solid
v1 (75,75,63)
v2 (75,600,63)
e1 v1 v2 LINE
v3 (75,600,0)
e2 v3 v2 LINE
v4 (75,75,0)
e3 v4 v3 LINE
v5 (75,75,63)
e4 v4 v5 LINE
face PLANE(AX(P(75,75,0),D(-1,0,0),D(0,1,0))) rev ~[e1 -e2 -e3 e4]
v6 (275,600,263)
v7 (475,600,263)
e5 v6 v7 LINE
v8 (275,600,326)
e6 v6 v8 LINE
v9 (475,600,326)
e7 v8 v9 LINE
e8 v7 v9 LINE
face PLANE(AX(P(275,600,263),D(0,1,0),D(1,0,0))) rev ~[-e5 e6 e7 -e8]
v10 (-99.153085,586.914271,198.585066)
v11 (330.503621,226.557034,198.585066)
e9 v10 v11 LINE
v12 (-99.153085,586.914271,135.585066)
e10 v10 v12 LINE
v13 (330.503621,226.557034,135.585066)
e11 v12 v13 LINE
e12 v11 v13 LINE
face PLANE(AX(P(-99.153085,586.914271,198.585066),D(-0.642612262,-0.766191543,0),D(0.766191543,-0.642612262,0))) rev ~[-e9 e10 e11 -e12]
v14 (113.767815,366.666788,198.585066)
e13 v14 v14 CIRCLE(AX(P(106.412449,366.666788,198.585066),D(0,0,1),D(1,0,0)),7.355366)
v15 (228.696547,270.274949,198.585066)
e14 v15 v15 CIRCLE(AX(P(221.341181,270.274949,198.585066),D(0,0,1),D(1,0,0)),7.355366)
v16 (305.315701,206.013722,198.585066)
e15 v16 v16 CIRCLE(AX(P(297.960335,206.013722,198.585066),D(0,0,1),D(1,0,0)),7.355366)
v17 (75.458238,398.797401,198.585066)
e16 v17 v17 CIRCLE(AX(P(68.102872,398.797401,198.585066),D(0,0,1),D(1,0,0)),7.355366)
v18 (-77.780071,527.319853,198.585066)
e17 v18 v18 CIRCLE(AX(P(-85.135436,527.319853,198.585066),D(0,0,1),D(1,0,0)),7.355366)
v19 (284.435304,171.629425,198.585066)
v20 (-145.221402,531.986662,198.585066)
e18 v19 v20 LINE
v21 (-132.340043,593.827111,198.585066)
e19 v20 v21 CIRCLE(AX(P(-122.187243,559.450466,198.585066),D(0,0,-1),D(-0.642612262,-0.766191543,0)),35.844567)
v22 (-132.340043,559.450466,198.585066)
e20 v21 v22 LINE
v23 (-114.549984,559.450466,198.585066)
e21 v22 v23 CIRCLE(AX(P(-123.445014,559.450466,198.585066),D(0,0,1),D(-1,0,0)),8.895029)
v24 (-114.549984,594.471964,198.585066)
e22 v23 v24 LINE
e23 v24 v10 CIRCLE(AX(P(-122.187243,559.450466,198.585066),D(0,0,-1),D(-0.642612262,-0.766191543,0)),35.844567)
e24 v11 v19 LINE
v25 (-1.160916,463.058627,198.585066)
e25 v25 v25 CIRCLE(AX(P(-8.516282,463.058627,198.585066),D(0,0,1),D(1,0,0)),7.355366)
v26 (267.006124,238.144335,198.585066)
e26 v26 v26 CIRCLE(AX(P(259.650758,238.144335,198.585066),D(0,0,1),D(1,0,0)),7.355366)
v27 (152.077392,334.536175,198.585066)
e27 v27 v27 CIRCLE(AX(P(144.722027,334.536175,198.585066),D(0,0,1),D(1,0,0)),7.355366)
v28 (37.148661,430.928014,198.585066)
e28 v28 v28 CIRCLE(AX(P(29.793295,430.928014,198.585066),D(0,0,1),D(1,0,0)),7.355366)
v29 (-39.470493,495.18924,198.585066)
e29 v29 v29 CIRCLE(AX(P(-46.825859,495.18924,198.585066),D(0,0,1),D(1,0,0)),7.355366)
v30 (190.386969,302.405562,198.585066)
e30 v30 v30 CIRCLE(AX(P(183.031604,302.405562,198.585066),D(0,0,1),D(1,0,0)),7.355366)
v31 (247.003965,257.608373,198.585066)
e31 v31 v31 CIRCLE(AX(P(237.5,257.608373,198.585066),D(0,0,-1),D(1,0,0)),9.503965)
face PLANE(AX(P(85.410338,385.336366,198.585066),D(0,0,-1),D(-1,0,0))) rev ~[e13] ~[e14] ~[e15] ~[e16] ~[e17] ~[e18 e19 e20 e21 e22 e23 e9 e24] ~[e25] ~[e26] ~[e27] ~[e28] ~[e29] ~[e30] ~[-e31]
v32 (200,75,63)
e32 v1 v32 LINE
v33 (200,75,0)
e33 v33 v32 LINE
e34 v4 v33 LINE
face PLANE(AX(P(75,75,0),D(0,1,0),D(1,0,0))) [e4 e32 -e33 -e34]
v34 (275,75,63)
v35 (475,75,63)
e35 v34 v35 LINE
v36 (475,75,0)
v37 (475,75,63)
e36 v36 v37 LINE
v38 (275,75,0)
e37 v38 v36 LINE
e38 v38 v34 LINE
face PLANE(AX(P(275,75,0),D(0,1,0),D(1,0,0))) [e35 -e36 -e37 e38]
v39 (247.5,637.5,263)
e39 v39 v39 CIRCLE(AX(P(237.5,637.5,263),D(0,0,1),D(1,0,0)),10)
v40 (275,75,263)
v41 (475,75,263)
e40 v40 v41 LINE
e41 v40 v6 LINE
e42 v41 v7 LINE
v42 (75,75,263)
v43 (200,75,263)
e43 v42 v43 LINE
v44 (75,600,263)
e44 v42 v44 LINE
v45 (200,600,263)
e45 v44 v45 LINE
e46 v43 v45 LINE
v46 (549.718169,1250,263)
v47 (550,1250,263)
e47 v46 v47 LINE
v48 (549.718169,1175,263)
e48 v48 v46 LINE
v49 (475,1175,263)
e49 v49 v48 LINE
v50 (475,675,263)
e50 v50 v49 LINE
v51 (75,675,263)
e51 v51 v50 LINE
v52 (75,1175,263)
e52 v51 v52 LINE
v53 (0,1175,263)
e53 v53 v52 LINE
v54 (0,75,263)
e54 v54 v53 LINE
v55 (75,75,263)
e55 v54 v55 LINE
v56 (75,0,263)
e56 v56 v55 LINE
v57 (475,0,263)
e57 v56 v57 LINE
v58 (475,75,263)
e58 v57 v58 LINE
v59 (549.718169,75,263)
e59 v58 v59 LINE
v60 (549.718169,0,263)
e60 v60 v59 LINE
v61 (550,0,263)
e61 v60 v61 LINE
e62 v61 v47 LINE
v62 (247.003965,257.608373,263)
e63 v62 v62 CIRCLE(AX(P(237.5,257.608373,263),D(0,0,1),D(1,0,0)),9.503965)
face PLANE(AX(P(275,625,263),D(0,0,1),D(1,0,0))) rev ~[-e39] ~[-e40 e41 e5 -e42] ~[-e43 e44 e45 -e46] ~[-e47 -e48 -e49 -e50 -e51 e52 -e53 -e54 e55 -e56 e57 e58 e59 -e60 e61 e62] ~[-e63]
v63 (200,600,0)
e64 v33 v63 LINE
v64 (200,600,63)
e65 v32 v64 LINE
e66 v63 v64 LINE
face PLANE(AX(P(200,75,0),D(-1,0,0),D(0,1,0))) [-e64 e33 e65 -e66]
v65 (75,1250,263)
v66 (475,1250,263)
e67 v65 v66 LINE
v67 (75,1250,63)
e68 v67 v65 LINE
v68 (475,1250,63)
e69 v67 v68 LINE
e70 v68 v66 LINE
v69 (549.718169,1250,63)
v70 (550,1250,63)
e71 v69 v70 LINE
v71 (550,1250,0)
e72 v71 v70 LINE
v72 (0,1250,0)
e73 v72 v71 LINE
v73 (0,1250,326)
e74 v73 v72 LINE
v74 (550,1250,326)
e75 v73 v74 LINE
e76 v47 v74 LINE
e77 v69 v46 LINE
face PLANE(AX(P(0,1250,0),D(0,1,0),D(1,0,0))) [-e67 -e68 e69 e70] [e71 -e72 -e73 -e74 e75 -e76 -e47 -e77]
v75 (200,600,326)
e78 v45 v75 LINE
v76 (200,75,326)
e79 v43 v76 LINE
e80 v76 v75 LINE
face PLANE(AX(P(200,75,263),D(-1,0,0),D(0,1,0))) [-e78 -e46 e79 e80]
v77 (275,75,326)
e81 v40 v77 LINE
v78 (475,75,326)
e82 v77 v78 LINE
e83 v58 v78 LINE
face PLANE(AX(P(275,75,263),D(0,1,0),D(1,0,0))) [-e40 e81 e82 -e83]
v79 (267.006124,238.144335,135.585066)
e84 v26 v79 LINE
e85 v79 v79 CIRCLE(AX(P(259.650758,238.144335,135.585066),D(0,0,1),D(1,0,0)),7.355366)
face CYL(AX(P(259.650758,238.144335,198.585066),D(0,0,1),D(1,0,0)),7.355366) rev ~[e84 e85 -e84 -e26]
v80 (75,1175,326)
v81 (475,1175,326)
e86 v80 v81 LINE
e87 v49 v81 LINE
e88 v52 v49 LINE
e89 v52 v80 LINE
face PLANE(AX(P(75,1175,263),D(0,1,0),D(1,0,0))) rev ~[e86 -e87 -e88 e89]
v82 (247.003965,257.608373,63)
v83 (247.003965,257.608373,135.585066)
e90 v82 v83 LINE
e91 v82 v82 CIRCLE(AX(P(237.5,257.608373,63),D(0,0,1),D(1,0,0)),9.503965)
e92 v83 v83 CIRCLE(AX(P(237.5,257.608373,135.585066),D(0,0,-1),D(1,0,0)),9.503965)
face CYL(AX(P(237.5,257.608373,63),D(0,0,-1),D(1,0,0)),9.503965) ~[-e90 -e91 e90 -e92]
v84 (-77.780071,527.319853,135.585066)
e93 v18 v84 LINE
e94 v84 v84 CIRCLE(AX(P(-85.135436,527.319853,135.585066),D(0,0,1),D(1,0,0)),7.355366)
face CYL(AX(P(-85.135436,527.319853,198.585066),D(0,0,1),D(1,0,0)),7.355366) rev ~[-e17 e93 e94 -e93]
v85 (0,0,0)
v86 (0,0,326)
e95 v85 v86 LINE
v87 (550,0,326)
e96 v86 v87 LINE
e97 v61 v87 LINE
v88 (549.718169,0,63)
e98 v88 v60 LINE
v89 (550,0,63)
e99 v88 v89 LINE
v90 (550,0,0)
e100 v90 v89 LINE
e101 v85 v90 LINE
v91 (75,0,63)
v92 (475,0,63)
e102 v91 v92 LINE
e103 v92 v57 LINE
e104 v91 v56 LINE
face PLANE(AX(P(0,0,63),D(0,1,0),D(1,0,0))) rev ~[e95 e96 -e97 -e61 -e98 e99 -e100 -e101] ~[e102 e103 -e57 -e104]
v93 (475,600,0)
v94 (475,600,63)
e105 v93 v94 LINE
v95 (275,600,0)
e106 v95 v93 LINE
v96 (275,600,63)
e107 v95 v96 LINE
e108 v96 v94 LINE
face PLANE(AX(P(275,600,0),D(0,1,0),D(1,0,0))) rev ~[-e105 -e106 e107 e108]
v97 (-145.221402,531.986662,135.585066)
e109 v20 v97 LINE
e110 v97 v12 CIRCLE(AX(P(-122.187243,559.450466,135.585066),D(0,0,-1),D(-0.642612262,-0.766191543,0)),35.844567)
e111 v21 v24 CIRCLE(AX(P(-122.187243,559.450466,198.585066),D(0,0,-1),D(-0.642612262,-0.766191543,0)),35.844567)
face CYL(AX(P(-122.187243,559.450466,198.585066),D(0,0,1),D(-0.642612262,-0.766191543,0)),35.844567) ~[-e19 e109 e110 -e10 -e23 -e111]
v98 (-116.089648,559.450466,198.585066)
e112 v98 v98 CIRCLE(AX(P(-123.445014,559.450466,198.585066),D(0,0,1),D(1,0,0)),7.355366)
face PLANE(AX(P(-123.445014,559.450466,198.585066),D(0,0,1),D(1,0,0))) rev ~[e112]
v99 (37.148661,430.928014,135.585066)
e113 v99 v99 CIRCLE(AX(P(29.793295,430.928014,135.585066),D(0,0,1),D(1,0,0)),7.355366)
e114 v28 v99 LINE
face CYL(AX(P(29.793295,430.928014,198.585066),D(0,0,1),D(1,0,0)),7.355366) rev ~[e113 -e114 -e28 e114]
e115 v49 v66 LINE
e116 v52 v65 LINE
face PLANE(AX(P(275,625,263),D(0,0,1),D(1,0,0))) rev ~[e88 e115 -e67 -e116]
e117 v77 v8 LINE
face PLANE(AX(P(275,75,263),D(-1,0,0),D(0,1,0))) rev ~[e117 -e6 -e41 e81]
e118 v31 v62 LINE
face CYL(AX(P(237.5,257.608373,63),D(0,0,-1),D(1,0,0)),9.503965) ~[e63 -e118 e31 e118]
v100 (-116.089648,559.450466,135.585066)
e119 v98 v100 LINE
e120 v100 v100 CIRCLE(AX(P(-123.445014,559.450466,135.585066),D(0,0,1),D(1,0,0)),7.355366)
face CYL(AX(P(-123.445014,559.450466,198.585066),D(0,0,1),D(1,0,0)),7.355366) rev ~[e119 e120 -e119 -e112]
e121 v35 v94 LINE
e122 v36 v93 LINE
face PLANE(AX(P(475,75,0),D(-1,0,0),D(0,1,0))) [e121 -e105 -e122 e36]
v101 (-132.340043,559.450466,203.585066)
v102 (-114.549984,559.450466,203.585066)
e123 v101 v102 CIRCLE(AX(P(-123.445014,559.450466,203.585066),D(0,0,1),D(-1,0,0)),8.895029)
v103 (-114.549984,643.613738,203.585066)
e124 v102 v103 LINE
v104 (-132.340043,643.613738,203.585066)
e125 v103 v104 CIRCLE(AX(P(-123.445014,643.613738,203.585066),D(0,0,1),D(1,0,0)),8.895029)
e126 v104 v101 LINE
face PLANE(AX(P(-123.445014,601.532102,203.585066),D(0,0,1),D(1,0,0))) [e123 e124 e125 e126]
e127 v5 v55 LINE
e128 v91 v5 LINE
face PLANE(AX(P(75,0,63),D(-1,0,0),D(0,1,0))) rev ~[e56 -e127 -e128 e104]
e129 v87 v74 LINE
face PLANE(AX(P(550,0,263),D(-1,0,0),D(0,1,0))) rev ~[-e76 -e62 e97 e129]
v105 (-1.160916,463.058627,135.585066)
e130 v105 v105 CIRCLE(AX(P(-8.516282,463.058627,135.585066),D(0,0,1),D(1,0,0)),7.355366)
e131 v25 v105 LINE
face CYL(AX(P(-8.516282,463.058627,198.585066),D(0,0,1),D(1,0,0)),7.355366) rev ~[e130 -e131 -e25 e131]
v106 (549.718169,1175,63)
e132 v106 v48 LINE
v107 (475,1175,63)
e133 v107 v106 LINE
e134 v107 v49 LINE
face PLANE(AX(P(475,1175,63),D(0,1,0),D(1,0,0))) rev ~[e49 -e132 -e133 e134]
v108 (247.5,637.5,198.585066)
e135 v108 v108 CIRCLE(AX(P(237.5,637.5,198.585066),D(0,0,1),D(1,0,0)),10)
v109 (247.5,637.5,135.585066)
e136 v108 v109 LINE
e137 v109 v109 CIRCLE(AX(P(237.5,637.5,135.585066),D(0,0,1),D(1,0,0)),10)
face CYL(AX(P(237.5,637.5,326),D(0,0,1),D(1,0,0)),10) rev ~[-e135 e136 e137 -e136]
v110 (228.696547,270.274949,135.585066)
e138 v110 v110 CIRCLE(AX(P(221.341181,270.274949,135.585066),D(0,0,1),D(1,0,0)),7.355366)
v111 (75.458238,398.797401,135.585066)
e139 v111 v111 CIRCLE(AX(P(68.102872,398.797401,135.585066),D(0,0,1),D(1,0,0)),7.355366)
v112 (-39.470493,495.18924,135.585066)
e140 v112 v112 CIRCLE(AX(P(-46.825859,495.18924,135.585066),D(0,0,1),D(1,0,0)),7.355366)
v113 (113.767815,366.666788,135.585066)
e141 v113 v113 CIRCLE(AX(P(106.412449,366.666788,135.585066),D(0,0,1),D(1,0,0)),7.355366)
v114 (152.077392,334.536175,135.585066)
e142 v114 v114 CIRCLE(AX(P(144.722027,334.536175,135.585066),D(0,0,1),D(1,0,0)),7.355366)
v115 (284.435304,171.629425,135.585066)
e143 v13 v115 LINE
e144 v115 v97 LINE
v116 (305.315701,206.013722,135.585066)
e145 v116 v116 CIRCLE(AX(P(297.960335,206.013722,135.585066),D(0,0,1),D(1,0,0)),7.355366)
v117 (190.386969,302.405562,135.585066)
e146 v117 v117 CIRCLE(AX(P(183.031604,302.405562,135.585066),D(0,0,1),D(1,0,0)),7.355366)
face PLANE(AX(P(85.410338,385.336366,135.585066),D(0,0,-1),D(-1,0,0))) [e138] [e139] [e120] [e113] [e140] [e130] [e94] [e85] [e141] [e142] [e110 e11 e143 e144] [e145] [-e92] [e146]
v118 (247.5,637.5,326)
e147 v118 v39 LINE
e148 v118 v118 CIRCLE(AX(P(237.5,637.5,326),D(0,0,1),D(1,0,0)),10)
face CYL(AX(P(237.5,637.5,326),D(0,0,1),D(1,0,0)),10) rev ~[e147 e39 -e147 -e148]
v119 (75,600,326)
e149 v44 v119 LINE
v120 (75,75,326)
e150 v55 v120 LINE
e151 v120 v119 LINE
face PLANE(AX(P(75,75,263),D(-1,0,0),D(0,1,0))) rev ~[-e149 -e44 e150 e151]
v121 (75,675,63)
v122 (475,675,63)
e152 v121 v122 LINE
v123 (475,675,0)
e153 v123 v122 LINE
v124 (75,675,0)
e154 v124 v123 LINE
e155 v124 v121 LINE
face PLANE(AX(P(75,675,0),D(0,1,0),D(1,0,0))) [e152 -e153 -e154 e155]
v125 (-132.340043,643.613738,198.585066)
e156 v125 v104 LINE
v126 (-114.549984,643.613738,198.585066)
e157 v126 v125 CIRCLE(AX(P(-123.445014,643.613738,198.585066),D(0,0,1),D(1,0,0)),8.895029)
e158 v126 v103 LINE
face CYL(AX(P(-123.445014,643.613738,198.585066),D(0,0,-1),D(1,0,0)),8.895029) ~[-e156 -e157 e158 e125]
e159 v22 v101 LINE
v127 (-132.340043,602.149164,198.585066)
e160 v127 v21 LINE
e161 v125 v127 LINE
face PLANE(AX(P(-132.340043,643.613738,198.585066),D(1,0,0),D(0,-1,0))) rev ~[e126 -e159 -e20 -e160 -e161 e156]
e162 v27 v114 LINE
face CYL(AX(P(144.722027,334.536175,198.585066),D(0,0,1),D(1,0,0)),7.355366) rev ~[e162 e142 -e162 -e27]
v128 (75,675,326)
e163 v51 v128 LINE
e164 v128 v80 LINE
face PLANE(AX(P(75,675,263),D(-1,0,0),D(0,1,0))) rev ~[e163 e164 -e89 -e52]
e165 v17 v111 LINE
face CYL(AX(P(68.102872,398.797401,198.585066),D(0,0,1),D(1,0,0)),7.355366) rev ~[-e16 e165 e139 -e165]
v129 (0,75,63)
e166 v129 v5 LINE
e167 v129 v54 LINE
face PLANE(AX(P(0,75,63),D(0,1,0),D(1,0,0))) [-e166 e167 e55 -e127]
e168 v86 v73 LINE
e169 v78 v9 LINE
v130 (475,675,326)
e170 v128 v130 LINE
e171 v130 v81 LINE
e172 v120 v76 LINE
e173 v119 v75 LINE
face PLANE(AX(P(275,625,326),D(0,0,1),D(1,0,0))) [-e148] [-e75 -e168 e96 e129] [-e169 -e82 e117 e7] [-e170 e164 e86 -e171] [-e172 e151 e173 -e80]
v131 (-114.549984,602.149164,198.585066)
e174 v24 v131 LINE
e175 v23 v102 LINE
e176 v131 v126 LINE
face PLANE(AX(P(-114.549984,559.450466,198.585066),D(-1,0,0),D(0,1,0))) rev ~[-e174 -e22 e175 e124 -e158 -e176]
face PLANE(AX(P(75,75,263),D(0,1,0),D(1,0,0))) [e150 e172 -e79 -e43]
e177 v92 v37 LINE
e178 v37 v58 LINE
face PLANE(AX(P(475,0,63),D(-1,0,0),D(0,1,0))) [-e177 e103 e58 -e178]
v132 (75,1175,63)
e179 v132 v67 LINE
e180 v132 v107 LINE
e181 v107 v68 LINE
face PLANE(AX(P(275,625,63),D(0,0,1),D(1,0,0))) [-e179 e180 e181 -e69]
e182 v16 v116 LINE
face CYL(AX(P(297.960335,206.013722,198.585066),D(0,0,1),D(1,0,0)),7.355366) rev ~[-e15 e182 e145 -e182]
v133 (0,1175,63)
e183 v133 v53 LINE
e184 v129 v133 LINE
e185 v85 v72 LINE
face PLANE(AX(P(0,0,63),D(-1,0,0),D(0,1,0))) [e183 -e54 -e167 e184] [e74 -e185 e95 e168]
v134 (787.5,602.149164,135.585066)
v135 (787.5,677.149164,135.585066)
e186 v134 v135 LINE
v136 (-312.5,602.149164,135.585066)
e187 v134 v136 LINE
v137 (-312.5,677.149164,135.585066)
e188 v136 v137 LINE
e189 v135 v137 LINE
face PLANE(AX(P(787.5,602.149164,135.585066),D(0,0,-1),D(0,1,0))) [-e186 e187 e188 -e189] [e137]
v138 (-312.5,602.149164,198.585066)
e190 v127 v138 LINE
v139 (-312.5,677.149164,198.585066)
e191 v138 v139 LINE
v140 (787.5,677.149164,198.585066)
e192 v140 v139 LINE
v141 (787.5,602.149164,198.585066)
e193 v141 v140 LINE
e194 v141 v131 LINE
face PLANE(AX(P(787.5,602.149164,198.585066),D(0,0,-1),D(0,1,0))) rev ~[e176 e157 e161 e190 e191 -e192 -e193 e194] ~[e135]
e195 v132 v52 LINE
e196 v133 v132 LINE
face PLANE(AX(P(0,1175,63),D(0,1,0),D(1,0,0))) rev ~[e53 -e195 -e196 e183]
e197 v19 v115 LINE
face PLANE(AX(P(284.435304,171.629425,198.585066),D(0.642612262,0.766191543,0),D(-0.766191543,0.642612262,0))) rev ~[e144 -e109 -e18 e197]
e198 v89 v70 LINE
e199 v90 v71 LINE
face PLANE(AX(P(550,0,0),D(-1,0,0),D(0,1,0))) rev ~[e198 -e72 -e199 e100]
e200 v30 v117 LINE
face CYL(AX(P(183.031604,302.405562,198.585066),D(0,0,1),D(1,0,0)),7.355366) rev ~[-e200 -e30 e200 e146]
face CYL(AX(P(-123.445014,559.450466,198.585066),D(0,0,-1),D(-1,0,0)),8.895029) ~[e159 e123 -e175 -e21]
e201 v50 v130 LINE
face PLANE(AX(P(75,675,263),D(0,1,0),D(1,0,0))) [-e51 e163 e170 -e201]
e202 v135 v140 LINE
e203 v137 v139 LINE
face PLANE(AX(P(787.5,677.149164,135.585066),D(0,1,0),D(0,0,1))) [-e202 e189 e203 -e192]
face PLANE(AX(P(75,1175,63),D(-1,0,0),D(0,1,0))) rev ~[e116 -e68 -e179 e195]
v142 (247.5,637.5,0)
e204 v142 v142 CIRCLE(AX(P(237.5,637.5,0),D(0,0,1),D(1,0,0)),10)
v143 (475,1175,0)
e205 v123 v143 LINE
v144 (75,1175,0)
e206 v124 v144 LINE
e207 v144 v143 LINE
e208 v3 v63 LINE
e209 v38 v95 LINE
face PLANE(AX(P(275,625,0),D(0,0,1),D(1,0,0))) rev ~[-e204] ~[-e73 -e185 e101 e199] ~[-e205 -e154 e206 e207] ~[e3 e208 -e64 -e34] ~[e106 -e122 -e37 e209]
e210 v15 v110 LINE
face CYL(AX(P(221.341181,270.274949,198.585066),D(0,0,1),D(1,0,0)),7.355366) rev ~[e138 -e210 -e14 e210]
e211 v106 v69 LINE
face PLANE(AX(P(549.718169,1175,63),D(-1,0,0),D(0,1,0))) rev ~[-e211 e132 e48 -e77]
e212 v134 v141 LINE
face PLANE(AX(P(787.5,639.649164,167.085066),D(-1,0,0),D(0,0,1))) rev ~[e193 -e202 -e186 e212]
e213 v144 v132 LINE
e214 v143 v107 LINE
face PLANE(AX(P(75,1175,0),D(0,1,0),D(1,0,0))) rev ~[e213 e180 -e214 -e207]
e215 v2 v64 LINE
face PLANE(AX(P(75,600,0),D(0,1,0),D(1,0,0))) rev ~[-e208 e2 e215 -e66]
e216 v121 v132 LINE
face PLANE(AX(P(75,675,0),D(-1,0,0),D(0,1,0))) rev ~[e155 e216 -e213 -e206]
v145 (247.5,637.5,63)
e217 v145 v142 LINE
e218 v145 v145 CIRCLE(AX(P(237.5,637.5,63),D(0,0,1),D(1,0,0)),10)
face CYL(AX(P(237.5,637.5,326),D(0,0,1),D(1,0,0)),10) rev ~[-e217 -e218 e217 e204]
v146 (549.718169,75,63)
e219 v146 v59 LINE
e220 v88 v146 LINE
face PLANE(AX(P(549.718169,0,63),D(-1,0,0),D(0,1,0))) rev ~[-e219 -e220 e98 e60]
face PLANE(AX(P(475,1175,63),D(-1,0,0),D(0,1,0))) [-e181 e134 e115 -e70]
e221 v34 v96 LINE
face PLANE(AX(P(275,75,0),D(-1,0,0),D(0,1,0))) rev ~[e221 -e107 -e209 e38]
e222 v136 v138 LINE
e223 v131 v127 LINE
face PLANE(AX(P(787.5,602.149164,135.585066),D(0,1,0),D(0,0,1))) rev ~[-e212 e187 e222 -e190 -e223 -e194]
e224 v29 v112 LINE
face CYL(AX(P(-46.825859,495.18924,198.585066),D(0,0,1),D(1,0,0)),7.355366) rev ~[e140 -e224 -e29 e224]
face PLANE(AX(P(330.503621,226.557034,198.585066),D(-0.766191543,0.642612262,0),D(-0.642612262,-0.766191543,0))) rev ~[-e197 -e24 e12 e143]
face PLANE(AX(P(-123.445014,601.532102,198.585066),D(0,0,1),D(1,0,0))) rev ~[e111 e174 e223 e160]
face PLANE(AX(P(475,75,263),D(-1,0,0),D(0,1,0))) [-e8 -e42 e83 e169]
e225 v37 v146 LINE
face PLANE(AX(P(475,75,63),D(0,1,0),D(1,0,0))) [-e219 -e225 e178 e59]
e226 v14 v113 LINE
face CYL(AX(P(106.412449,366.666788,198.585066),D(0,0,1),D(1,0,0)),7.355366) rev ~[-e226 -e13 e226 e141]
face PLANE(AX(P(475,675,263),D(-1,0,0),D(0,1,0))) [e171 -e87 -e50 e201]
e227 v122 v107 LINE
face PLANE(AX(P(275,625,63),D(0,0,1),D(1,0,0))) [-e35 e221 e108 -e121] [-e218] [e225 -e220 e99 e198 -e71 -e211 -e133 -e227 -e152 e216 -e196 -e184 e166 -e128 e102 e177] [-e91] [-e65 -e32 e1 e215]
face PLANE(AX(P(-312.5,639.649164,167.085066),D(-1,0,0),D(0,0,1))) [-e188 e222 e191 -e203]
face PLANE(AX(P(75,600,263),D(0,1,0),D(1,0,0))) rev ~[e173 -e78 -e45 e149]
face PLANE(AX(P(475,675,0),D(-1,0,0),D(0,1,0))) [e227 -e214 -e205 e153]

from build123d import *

# Parameters (mm, degrees)
ESQUISSE1_W                = 550
ESQUISSE1_H                = 1250
ESQUISSE1_W_2              = 125
ESQUISSE1_H_2              = 525
ESQUISSE1_W_3              = 200
ESQUISSE1_W_4              = 400
ESQUISSE1_H_3              = 500
BOSS_EXTRU_1_DEPTH         = 63
R_P_TITION_LIN_AIRE1_COUNT = 2
R_P_TITION_LIN_AIRE1_PITCH = 263
ESQUISSE2_W                = 75
ESQUISSE2_H                = 75
ESQUISSE2_W_2              = 74.718169062
BOSS_EXTRU_2_DEPTH         = 200
BOSS_EXTRU_4_DEPTH         = 550
BOSS_EXTRU_4_DEPTH_BACK    = 550
ESQUISSE7_W                = 63
ESQUISSE7_H                = 75
ESQUISSE3_R                = 10
ENL_V_MAT_EXTRU_2_DEPTH    = 1513.921759378
BOSS_EXTRU_5_DEPTH         = 63
BOSS_EXTRU_6_DEPTH         = 5
ESQUISSE12_R               = 7.355365699
ENL_V_MAT_EXTRU_3_DEPTH    = 100
R_P_TITION_LIN_AIRE2_COUNT = 12
R_P_TITION_LIN_AIRE2_PITCH = 50
BOSS_EXTRU_7_START         = -263
ESQUISSE13_R               = 9.503964929
BOSS_EXTRU_7_DEPTH         = 200


with BuildPart() as part:
    # Esquisse1 → Boss.-Extru.1 (new body)
    with BuildSketch(Plane.XY):
        with Locations((275, 625)):
            Rectangle(ESQUISSE1_W, ESQUISSE1_H)
        with Locations((137.5, 337.5)):
            Rectangle(ESQUISSE1_W_2, ESQUISSE1_H_2, mode=Mode.SUBTRACT)
        with Locations((375, 337.5)):
            Rectangle(ESQUISSE1_W_3, ESQUISSE1_H_2, mode=Mode.SUBTRACT)
        with Locations((275, 925)):
            Rectangle(ESQUISSE1_W_4, ESQUISSE1_H_3, mode=Mode.SUBTRACT)
    extrude(amount=BOSS_EXTRU_1_DEPTH)


with BuildPart() as r_p_tition_lin_aire1_1:
    # Répétition linéaire1: pattern copy
    add(part.part.moved(Location(Vector(0, 0, 1) * (1 * R_P_TITION_LIN_AIRE1_PITCH))))


with BuildPart() as part_1:
    add(part.part)

    add(r_p_tition_lin_aire1_1.part)  # Boss.-Extru.2 merges Répétition linéaire1_1
    # Esquisse2 → Boss.-Extru.2 (add)
    with BuildSketch(Plane.XY.offset(63)):
        with Locations((37.5, 37.5)):
            Rectangle(ESQUISSE2_W, ESQUISSE2_H)
        with Locations((512.359084531, 37.5)):
            Rectangle(ESQUISSE2_W_2, ESQUISSE2_H)
        with Locations((512.359084531, 1212.5)):
            Rectangle(ESQUISSE2_W_2, ESQUISSE2_H)
        with Locations((37.5, 1212.5)):
            Rectangle(ESQUISSE2_W, ESQUISSE2_H)
    extrude(amount=BOSS_EXTRU_2_DEPTH)


with BuildPart() as body_2:
    # Esquisse7 → Boss.-Extru.4 (new, two sides: drawn at the far end of the back side and taken through both)
    with BuildSketch(Plane.ZY.offset(-237.5).offset(-BOSS_EXTRU_4_DEPTH_BACK)):
        with Locations((167.0850662, 639.649163537)):
            Rectangle(ESQUISSE7_W, ESQUISSE7_H)
    extrude(amount=BOSS_EXTRU_4_DEPTH + BOSS_EXTRU_4_DEPTH_BACK)


with BuildPart() as enl_v_mat_extru_2_tool:
    # Esquisse3 → Enlèv. mat.-Extru.2 (new, through all)
    with BuildSketch(Plane.XY.offset(326)):
        with Locations((237.5, 637.5)):
            Circle(ESQUISSE3_R)
    extrude(amount=-ENL_V_MAT_EXTRU_2_DEPTH)


with BuildPart() as part_2:
    add(part_1.part)

    # Enlèv. mat.-Extru.2: cut by enl_v_mat_extru_2_tool
    add(enl_v_mat_extru_2_tool.part, mode=Mode.SUBTRACT)



with BuildPart() as body_2_1:
    add(body_2.part)

    # Enlèv. mat.-Extru.2: cut by enl_v_mat_extru_2_tool
    add(enl_v_mat_extru_2_tool.part, mode=Mode.SUBTRACT)



with BuildPart() as body_3:
    # Esquisse11 → Boss.-Extru.5 (new body)
    with BuildSketch(Plane.XY.offset(198.5850662)):
        with BuildLine():
            Line((-99.153084709, 586.914270743), (330.503621206, 226.557033524))
            Line((330.503621206, 226.557033524), (284.435304351, 171.629424966))
            Line((284.435304351, 171.629424966), (-145.221401564, 531.986662185))
            ThreePointArc((-145.221401564, 531.986662185), (-149.651047416, 582.484624891), (-99.153084709, 586.914270743))
        make_face()
    extrude(amount=-BOSS_EXTRU_5_DEPTH)


with BuildPart() as body_2_2:
    add(body_2_1.part)

    add(body_3.part)  # Boss.-Extru.6 merges body 3
    # Esquisse11<3> → Boss.-Extru.6 (add)
    with BuildSketch(Plane.XY.offset(198.5850662)):
        with BuildLine():
            Line((-114.54998443, 559.450466464), (-114.54998443, 643.613737641))
            ThreePointArc((-114.54998443, 643.613737641), (-123.445013511, 652.508766722), (-132.340042592, 643.613737641))
            Line((-132.340042592, 643.613737641), (-132.340042592, 559.450466464))
            ThreePointArc((-132.340042592, 559.450466464), (-123.445013511, 550.555437383), (-114.54998443, 559.450466464))
        make_face()
    extrude(amount=BOSS_EXTRU_6_DEPTH)

    # Esquisse12 → Enlèv. mat.-Extru.3 (cut)
    with BuildSketch(Plane.XY.offset(198.5850662)):
        with Locations((-123.445013511, 559.450466464)):
            Circle(ESQUISSE12_R)
    enl_v_mat_extru_3 = extrude(amount=-ENL_V_MAT_EXTRU_3_DEPTH, mode=Mode.SUBTRACT)

    # Répétition linéaire2: Enlèv. mat.-Extru.3 ×12
    with Locations(*[Vector(0.7661915431257939, -0.6426122619764696, 0) * (i * R_P_TITION_LIN_AIRE2_PITCH) for i in range(1, R_P_TITION_LIN_AIRE2_COUNT)]):
        add(enl_v_mat_extru_3, mode=Mode.SUBTRACT)


with BuildPart() as part_3:
    add(part_2.part)

    add(body_2_2.part)  # Boss.-Extru.7 merges body 2
    # Esquisse13 → Boss.-Extru.7 (add)
    with BuildSketch(Plane.XY.offset(326).offset(BOSS_EXTRU_7_START)):
        with Locations((237.5, 257.608372702)):
            Circle(ESQUISSE13_R)
    extrude(amount=BOSS_EXTRU_7_DEPTH)


solid = part_3.part
